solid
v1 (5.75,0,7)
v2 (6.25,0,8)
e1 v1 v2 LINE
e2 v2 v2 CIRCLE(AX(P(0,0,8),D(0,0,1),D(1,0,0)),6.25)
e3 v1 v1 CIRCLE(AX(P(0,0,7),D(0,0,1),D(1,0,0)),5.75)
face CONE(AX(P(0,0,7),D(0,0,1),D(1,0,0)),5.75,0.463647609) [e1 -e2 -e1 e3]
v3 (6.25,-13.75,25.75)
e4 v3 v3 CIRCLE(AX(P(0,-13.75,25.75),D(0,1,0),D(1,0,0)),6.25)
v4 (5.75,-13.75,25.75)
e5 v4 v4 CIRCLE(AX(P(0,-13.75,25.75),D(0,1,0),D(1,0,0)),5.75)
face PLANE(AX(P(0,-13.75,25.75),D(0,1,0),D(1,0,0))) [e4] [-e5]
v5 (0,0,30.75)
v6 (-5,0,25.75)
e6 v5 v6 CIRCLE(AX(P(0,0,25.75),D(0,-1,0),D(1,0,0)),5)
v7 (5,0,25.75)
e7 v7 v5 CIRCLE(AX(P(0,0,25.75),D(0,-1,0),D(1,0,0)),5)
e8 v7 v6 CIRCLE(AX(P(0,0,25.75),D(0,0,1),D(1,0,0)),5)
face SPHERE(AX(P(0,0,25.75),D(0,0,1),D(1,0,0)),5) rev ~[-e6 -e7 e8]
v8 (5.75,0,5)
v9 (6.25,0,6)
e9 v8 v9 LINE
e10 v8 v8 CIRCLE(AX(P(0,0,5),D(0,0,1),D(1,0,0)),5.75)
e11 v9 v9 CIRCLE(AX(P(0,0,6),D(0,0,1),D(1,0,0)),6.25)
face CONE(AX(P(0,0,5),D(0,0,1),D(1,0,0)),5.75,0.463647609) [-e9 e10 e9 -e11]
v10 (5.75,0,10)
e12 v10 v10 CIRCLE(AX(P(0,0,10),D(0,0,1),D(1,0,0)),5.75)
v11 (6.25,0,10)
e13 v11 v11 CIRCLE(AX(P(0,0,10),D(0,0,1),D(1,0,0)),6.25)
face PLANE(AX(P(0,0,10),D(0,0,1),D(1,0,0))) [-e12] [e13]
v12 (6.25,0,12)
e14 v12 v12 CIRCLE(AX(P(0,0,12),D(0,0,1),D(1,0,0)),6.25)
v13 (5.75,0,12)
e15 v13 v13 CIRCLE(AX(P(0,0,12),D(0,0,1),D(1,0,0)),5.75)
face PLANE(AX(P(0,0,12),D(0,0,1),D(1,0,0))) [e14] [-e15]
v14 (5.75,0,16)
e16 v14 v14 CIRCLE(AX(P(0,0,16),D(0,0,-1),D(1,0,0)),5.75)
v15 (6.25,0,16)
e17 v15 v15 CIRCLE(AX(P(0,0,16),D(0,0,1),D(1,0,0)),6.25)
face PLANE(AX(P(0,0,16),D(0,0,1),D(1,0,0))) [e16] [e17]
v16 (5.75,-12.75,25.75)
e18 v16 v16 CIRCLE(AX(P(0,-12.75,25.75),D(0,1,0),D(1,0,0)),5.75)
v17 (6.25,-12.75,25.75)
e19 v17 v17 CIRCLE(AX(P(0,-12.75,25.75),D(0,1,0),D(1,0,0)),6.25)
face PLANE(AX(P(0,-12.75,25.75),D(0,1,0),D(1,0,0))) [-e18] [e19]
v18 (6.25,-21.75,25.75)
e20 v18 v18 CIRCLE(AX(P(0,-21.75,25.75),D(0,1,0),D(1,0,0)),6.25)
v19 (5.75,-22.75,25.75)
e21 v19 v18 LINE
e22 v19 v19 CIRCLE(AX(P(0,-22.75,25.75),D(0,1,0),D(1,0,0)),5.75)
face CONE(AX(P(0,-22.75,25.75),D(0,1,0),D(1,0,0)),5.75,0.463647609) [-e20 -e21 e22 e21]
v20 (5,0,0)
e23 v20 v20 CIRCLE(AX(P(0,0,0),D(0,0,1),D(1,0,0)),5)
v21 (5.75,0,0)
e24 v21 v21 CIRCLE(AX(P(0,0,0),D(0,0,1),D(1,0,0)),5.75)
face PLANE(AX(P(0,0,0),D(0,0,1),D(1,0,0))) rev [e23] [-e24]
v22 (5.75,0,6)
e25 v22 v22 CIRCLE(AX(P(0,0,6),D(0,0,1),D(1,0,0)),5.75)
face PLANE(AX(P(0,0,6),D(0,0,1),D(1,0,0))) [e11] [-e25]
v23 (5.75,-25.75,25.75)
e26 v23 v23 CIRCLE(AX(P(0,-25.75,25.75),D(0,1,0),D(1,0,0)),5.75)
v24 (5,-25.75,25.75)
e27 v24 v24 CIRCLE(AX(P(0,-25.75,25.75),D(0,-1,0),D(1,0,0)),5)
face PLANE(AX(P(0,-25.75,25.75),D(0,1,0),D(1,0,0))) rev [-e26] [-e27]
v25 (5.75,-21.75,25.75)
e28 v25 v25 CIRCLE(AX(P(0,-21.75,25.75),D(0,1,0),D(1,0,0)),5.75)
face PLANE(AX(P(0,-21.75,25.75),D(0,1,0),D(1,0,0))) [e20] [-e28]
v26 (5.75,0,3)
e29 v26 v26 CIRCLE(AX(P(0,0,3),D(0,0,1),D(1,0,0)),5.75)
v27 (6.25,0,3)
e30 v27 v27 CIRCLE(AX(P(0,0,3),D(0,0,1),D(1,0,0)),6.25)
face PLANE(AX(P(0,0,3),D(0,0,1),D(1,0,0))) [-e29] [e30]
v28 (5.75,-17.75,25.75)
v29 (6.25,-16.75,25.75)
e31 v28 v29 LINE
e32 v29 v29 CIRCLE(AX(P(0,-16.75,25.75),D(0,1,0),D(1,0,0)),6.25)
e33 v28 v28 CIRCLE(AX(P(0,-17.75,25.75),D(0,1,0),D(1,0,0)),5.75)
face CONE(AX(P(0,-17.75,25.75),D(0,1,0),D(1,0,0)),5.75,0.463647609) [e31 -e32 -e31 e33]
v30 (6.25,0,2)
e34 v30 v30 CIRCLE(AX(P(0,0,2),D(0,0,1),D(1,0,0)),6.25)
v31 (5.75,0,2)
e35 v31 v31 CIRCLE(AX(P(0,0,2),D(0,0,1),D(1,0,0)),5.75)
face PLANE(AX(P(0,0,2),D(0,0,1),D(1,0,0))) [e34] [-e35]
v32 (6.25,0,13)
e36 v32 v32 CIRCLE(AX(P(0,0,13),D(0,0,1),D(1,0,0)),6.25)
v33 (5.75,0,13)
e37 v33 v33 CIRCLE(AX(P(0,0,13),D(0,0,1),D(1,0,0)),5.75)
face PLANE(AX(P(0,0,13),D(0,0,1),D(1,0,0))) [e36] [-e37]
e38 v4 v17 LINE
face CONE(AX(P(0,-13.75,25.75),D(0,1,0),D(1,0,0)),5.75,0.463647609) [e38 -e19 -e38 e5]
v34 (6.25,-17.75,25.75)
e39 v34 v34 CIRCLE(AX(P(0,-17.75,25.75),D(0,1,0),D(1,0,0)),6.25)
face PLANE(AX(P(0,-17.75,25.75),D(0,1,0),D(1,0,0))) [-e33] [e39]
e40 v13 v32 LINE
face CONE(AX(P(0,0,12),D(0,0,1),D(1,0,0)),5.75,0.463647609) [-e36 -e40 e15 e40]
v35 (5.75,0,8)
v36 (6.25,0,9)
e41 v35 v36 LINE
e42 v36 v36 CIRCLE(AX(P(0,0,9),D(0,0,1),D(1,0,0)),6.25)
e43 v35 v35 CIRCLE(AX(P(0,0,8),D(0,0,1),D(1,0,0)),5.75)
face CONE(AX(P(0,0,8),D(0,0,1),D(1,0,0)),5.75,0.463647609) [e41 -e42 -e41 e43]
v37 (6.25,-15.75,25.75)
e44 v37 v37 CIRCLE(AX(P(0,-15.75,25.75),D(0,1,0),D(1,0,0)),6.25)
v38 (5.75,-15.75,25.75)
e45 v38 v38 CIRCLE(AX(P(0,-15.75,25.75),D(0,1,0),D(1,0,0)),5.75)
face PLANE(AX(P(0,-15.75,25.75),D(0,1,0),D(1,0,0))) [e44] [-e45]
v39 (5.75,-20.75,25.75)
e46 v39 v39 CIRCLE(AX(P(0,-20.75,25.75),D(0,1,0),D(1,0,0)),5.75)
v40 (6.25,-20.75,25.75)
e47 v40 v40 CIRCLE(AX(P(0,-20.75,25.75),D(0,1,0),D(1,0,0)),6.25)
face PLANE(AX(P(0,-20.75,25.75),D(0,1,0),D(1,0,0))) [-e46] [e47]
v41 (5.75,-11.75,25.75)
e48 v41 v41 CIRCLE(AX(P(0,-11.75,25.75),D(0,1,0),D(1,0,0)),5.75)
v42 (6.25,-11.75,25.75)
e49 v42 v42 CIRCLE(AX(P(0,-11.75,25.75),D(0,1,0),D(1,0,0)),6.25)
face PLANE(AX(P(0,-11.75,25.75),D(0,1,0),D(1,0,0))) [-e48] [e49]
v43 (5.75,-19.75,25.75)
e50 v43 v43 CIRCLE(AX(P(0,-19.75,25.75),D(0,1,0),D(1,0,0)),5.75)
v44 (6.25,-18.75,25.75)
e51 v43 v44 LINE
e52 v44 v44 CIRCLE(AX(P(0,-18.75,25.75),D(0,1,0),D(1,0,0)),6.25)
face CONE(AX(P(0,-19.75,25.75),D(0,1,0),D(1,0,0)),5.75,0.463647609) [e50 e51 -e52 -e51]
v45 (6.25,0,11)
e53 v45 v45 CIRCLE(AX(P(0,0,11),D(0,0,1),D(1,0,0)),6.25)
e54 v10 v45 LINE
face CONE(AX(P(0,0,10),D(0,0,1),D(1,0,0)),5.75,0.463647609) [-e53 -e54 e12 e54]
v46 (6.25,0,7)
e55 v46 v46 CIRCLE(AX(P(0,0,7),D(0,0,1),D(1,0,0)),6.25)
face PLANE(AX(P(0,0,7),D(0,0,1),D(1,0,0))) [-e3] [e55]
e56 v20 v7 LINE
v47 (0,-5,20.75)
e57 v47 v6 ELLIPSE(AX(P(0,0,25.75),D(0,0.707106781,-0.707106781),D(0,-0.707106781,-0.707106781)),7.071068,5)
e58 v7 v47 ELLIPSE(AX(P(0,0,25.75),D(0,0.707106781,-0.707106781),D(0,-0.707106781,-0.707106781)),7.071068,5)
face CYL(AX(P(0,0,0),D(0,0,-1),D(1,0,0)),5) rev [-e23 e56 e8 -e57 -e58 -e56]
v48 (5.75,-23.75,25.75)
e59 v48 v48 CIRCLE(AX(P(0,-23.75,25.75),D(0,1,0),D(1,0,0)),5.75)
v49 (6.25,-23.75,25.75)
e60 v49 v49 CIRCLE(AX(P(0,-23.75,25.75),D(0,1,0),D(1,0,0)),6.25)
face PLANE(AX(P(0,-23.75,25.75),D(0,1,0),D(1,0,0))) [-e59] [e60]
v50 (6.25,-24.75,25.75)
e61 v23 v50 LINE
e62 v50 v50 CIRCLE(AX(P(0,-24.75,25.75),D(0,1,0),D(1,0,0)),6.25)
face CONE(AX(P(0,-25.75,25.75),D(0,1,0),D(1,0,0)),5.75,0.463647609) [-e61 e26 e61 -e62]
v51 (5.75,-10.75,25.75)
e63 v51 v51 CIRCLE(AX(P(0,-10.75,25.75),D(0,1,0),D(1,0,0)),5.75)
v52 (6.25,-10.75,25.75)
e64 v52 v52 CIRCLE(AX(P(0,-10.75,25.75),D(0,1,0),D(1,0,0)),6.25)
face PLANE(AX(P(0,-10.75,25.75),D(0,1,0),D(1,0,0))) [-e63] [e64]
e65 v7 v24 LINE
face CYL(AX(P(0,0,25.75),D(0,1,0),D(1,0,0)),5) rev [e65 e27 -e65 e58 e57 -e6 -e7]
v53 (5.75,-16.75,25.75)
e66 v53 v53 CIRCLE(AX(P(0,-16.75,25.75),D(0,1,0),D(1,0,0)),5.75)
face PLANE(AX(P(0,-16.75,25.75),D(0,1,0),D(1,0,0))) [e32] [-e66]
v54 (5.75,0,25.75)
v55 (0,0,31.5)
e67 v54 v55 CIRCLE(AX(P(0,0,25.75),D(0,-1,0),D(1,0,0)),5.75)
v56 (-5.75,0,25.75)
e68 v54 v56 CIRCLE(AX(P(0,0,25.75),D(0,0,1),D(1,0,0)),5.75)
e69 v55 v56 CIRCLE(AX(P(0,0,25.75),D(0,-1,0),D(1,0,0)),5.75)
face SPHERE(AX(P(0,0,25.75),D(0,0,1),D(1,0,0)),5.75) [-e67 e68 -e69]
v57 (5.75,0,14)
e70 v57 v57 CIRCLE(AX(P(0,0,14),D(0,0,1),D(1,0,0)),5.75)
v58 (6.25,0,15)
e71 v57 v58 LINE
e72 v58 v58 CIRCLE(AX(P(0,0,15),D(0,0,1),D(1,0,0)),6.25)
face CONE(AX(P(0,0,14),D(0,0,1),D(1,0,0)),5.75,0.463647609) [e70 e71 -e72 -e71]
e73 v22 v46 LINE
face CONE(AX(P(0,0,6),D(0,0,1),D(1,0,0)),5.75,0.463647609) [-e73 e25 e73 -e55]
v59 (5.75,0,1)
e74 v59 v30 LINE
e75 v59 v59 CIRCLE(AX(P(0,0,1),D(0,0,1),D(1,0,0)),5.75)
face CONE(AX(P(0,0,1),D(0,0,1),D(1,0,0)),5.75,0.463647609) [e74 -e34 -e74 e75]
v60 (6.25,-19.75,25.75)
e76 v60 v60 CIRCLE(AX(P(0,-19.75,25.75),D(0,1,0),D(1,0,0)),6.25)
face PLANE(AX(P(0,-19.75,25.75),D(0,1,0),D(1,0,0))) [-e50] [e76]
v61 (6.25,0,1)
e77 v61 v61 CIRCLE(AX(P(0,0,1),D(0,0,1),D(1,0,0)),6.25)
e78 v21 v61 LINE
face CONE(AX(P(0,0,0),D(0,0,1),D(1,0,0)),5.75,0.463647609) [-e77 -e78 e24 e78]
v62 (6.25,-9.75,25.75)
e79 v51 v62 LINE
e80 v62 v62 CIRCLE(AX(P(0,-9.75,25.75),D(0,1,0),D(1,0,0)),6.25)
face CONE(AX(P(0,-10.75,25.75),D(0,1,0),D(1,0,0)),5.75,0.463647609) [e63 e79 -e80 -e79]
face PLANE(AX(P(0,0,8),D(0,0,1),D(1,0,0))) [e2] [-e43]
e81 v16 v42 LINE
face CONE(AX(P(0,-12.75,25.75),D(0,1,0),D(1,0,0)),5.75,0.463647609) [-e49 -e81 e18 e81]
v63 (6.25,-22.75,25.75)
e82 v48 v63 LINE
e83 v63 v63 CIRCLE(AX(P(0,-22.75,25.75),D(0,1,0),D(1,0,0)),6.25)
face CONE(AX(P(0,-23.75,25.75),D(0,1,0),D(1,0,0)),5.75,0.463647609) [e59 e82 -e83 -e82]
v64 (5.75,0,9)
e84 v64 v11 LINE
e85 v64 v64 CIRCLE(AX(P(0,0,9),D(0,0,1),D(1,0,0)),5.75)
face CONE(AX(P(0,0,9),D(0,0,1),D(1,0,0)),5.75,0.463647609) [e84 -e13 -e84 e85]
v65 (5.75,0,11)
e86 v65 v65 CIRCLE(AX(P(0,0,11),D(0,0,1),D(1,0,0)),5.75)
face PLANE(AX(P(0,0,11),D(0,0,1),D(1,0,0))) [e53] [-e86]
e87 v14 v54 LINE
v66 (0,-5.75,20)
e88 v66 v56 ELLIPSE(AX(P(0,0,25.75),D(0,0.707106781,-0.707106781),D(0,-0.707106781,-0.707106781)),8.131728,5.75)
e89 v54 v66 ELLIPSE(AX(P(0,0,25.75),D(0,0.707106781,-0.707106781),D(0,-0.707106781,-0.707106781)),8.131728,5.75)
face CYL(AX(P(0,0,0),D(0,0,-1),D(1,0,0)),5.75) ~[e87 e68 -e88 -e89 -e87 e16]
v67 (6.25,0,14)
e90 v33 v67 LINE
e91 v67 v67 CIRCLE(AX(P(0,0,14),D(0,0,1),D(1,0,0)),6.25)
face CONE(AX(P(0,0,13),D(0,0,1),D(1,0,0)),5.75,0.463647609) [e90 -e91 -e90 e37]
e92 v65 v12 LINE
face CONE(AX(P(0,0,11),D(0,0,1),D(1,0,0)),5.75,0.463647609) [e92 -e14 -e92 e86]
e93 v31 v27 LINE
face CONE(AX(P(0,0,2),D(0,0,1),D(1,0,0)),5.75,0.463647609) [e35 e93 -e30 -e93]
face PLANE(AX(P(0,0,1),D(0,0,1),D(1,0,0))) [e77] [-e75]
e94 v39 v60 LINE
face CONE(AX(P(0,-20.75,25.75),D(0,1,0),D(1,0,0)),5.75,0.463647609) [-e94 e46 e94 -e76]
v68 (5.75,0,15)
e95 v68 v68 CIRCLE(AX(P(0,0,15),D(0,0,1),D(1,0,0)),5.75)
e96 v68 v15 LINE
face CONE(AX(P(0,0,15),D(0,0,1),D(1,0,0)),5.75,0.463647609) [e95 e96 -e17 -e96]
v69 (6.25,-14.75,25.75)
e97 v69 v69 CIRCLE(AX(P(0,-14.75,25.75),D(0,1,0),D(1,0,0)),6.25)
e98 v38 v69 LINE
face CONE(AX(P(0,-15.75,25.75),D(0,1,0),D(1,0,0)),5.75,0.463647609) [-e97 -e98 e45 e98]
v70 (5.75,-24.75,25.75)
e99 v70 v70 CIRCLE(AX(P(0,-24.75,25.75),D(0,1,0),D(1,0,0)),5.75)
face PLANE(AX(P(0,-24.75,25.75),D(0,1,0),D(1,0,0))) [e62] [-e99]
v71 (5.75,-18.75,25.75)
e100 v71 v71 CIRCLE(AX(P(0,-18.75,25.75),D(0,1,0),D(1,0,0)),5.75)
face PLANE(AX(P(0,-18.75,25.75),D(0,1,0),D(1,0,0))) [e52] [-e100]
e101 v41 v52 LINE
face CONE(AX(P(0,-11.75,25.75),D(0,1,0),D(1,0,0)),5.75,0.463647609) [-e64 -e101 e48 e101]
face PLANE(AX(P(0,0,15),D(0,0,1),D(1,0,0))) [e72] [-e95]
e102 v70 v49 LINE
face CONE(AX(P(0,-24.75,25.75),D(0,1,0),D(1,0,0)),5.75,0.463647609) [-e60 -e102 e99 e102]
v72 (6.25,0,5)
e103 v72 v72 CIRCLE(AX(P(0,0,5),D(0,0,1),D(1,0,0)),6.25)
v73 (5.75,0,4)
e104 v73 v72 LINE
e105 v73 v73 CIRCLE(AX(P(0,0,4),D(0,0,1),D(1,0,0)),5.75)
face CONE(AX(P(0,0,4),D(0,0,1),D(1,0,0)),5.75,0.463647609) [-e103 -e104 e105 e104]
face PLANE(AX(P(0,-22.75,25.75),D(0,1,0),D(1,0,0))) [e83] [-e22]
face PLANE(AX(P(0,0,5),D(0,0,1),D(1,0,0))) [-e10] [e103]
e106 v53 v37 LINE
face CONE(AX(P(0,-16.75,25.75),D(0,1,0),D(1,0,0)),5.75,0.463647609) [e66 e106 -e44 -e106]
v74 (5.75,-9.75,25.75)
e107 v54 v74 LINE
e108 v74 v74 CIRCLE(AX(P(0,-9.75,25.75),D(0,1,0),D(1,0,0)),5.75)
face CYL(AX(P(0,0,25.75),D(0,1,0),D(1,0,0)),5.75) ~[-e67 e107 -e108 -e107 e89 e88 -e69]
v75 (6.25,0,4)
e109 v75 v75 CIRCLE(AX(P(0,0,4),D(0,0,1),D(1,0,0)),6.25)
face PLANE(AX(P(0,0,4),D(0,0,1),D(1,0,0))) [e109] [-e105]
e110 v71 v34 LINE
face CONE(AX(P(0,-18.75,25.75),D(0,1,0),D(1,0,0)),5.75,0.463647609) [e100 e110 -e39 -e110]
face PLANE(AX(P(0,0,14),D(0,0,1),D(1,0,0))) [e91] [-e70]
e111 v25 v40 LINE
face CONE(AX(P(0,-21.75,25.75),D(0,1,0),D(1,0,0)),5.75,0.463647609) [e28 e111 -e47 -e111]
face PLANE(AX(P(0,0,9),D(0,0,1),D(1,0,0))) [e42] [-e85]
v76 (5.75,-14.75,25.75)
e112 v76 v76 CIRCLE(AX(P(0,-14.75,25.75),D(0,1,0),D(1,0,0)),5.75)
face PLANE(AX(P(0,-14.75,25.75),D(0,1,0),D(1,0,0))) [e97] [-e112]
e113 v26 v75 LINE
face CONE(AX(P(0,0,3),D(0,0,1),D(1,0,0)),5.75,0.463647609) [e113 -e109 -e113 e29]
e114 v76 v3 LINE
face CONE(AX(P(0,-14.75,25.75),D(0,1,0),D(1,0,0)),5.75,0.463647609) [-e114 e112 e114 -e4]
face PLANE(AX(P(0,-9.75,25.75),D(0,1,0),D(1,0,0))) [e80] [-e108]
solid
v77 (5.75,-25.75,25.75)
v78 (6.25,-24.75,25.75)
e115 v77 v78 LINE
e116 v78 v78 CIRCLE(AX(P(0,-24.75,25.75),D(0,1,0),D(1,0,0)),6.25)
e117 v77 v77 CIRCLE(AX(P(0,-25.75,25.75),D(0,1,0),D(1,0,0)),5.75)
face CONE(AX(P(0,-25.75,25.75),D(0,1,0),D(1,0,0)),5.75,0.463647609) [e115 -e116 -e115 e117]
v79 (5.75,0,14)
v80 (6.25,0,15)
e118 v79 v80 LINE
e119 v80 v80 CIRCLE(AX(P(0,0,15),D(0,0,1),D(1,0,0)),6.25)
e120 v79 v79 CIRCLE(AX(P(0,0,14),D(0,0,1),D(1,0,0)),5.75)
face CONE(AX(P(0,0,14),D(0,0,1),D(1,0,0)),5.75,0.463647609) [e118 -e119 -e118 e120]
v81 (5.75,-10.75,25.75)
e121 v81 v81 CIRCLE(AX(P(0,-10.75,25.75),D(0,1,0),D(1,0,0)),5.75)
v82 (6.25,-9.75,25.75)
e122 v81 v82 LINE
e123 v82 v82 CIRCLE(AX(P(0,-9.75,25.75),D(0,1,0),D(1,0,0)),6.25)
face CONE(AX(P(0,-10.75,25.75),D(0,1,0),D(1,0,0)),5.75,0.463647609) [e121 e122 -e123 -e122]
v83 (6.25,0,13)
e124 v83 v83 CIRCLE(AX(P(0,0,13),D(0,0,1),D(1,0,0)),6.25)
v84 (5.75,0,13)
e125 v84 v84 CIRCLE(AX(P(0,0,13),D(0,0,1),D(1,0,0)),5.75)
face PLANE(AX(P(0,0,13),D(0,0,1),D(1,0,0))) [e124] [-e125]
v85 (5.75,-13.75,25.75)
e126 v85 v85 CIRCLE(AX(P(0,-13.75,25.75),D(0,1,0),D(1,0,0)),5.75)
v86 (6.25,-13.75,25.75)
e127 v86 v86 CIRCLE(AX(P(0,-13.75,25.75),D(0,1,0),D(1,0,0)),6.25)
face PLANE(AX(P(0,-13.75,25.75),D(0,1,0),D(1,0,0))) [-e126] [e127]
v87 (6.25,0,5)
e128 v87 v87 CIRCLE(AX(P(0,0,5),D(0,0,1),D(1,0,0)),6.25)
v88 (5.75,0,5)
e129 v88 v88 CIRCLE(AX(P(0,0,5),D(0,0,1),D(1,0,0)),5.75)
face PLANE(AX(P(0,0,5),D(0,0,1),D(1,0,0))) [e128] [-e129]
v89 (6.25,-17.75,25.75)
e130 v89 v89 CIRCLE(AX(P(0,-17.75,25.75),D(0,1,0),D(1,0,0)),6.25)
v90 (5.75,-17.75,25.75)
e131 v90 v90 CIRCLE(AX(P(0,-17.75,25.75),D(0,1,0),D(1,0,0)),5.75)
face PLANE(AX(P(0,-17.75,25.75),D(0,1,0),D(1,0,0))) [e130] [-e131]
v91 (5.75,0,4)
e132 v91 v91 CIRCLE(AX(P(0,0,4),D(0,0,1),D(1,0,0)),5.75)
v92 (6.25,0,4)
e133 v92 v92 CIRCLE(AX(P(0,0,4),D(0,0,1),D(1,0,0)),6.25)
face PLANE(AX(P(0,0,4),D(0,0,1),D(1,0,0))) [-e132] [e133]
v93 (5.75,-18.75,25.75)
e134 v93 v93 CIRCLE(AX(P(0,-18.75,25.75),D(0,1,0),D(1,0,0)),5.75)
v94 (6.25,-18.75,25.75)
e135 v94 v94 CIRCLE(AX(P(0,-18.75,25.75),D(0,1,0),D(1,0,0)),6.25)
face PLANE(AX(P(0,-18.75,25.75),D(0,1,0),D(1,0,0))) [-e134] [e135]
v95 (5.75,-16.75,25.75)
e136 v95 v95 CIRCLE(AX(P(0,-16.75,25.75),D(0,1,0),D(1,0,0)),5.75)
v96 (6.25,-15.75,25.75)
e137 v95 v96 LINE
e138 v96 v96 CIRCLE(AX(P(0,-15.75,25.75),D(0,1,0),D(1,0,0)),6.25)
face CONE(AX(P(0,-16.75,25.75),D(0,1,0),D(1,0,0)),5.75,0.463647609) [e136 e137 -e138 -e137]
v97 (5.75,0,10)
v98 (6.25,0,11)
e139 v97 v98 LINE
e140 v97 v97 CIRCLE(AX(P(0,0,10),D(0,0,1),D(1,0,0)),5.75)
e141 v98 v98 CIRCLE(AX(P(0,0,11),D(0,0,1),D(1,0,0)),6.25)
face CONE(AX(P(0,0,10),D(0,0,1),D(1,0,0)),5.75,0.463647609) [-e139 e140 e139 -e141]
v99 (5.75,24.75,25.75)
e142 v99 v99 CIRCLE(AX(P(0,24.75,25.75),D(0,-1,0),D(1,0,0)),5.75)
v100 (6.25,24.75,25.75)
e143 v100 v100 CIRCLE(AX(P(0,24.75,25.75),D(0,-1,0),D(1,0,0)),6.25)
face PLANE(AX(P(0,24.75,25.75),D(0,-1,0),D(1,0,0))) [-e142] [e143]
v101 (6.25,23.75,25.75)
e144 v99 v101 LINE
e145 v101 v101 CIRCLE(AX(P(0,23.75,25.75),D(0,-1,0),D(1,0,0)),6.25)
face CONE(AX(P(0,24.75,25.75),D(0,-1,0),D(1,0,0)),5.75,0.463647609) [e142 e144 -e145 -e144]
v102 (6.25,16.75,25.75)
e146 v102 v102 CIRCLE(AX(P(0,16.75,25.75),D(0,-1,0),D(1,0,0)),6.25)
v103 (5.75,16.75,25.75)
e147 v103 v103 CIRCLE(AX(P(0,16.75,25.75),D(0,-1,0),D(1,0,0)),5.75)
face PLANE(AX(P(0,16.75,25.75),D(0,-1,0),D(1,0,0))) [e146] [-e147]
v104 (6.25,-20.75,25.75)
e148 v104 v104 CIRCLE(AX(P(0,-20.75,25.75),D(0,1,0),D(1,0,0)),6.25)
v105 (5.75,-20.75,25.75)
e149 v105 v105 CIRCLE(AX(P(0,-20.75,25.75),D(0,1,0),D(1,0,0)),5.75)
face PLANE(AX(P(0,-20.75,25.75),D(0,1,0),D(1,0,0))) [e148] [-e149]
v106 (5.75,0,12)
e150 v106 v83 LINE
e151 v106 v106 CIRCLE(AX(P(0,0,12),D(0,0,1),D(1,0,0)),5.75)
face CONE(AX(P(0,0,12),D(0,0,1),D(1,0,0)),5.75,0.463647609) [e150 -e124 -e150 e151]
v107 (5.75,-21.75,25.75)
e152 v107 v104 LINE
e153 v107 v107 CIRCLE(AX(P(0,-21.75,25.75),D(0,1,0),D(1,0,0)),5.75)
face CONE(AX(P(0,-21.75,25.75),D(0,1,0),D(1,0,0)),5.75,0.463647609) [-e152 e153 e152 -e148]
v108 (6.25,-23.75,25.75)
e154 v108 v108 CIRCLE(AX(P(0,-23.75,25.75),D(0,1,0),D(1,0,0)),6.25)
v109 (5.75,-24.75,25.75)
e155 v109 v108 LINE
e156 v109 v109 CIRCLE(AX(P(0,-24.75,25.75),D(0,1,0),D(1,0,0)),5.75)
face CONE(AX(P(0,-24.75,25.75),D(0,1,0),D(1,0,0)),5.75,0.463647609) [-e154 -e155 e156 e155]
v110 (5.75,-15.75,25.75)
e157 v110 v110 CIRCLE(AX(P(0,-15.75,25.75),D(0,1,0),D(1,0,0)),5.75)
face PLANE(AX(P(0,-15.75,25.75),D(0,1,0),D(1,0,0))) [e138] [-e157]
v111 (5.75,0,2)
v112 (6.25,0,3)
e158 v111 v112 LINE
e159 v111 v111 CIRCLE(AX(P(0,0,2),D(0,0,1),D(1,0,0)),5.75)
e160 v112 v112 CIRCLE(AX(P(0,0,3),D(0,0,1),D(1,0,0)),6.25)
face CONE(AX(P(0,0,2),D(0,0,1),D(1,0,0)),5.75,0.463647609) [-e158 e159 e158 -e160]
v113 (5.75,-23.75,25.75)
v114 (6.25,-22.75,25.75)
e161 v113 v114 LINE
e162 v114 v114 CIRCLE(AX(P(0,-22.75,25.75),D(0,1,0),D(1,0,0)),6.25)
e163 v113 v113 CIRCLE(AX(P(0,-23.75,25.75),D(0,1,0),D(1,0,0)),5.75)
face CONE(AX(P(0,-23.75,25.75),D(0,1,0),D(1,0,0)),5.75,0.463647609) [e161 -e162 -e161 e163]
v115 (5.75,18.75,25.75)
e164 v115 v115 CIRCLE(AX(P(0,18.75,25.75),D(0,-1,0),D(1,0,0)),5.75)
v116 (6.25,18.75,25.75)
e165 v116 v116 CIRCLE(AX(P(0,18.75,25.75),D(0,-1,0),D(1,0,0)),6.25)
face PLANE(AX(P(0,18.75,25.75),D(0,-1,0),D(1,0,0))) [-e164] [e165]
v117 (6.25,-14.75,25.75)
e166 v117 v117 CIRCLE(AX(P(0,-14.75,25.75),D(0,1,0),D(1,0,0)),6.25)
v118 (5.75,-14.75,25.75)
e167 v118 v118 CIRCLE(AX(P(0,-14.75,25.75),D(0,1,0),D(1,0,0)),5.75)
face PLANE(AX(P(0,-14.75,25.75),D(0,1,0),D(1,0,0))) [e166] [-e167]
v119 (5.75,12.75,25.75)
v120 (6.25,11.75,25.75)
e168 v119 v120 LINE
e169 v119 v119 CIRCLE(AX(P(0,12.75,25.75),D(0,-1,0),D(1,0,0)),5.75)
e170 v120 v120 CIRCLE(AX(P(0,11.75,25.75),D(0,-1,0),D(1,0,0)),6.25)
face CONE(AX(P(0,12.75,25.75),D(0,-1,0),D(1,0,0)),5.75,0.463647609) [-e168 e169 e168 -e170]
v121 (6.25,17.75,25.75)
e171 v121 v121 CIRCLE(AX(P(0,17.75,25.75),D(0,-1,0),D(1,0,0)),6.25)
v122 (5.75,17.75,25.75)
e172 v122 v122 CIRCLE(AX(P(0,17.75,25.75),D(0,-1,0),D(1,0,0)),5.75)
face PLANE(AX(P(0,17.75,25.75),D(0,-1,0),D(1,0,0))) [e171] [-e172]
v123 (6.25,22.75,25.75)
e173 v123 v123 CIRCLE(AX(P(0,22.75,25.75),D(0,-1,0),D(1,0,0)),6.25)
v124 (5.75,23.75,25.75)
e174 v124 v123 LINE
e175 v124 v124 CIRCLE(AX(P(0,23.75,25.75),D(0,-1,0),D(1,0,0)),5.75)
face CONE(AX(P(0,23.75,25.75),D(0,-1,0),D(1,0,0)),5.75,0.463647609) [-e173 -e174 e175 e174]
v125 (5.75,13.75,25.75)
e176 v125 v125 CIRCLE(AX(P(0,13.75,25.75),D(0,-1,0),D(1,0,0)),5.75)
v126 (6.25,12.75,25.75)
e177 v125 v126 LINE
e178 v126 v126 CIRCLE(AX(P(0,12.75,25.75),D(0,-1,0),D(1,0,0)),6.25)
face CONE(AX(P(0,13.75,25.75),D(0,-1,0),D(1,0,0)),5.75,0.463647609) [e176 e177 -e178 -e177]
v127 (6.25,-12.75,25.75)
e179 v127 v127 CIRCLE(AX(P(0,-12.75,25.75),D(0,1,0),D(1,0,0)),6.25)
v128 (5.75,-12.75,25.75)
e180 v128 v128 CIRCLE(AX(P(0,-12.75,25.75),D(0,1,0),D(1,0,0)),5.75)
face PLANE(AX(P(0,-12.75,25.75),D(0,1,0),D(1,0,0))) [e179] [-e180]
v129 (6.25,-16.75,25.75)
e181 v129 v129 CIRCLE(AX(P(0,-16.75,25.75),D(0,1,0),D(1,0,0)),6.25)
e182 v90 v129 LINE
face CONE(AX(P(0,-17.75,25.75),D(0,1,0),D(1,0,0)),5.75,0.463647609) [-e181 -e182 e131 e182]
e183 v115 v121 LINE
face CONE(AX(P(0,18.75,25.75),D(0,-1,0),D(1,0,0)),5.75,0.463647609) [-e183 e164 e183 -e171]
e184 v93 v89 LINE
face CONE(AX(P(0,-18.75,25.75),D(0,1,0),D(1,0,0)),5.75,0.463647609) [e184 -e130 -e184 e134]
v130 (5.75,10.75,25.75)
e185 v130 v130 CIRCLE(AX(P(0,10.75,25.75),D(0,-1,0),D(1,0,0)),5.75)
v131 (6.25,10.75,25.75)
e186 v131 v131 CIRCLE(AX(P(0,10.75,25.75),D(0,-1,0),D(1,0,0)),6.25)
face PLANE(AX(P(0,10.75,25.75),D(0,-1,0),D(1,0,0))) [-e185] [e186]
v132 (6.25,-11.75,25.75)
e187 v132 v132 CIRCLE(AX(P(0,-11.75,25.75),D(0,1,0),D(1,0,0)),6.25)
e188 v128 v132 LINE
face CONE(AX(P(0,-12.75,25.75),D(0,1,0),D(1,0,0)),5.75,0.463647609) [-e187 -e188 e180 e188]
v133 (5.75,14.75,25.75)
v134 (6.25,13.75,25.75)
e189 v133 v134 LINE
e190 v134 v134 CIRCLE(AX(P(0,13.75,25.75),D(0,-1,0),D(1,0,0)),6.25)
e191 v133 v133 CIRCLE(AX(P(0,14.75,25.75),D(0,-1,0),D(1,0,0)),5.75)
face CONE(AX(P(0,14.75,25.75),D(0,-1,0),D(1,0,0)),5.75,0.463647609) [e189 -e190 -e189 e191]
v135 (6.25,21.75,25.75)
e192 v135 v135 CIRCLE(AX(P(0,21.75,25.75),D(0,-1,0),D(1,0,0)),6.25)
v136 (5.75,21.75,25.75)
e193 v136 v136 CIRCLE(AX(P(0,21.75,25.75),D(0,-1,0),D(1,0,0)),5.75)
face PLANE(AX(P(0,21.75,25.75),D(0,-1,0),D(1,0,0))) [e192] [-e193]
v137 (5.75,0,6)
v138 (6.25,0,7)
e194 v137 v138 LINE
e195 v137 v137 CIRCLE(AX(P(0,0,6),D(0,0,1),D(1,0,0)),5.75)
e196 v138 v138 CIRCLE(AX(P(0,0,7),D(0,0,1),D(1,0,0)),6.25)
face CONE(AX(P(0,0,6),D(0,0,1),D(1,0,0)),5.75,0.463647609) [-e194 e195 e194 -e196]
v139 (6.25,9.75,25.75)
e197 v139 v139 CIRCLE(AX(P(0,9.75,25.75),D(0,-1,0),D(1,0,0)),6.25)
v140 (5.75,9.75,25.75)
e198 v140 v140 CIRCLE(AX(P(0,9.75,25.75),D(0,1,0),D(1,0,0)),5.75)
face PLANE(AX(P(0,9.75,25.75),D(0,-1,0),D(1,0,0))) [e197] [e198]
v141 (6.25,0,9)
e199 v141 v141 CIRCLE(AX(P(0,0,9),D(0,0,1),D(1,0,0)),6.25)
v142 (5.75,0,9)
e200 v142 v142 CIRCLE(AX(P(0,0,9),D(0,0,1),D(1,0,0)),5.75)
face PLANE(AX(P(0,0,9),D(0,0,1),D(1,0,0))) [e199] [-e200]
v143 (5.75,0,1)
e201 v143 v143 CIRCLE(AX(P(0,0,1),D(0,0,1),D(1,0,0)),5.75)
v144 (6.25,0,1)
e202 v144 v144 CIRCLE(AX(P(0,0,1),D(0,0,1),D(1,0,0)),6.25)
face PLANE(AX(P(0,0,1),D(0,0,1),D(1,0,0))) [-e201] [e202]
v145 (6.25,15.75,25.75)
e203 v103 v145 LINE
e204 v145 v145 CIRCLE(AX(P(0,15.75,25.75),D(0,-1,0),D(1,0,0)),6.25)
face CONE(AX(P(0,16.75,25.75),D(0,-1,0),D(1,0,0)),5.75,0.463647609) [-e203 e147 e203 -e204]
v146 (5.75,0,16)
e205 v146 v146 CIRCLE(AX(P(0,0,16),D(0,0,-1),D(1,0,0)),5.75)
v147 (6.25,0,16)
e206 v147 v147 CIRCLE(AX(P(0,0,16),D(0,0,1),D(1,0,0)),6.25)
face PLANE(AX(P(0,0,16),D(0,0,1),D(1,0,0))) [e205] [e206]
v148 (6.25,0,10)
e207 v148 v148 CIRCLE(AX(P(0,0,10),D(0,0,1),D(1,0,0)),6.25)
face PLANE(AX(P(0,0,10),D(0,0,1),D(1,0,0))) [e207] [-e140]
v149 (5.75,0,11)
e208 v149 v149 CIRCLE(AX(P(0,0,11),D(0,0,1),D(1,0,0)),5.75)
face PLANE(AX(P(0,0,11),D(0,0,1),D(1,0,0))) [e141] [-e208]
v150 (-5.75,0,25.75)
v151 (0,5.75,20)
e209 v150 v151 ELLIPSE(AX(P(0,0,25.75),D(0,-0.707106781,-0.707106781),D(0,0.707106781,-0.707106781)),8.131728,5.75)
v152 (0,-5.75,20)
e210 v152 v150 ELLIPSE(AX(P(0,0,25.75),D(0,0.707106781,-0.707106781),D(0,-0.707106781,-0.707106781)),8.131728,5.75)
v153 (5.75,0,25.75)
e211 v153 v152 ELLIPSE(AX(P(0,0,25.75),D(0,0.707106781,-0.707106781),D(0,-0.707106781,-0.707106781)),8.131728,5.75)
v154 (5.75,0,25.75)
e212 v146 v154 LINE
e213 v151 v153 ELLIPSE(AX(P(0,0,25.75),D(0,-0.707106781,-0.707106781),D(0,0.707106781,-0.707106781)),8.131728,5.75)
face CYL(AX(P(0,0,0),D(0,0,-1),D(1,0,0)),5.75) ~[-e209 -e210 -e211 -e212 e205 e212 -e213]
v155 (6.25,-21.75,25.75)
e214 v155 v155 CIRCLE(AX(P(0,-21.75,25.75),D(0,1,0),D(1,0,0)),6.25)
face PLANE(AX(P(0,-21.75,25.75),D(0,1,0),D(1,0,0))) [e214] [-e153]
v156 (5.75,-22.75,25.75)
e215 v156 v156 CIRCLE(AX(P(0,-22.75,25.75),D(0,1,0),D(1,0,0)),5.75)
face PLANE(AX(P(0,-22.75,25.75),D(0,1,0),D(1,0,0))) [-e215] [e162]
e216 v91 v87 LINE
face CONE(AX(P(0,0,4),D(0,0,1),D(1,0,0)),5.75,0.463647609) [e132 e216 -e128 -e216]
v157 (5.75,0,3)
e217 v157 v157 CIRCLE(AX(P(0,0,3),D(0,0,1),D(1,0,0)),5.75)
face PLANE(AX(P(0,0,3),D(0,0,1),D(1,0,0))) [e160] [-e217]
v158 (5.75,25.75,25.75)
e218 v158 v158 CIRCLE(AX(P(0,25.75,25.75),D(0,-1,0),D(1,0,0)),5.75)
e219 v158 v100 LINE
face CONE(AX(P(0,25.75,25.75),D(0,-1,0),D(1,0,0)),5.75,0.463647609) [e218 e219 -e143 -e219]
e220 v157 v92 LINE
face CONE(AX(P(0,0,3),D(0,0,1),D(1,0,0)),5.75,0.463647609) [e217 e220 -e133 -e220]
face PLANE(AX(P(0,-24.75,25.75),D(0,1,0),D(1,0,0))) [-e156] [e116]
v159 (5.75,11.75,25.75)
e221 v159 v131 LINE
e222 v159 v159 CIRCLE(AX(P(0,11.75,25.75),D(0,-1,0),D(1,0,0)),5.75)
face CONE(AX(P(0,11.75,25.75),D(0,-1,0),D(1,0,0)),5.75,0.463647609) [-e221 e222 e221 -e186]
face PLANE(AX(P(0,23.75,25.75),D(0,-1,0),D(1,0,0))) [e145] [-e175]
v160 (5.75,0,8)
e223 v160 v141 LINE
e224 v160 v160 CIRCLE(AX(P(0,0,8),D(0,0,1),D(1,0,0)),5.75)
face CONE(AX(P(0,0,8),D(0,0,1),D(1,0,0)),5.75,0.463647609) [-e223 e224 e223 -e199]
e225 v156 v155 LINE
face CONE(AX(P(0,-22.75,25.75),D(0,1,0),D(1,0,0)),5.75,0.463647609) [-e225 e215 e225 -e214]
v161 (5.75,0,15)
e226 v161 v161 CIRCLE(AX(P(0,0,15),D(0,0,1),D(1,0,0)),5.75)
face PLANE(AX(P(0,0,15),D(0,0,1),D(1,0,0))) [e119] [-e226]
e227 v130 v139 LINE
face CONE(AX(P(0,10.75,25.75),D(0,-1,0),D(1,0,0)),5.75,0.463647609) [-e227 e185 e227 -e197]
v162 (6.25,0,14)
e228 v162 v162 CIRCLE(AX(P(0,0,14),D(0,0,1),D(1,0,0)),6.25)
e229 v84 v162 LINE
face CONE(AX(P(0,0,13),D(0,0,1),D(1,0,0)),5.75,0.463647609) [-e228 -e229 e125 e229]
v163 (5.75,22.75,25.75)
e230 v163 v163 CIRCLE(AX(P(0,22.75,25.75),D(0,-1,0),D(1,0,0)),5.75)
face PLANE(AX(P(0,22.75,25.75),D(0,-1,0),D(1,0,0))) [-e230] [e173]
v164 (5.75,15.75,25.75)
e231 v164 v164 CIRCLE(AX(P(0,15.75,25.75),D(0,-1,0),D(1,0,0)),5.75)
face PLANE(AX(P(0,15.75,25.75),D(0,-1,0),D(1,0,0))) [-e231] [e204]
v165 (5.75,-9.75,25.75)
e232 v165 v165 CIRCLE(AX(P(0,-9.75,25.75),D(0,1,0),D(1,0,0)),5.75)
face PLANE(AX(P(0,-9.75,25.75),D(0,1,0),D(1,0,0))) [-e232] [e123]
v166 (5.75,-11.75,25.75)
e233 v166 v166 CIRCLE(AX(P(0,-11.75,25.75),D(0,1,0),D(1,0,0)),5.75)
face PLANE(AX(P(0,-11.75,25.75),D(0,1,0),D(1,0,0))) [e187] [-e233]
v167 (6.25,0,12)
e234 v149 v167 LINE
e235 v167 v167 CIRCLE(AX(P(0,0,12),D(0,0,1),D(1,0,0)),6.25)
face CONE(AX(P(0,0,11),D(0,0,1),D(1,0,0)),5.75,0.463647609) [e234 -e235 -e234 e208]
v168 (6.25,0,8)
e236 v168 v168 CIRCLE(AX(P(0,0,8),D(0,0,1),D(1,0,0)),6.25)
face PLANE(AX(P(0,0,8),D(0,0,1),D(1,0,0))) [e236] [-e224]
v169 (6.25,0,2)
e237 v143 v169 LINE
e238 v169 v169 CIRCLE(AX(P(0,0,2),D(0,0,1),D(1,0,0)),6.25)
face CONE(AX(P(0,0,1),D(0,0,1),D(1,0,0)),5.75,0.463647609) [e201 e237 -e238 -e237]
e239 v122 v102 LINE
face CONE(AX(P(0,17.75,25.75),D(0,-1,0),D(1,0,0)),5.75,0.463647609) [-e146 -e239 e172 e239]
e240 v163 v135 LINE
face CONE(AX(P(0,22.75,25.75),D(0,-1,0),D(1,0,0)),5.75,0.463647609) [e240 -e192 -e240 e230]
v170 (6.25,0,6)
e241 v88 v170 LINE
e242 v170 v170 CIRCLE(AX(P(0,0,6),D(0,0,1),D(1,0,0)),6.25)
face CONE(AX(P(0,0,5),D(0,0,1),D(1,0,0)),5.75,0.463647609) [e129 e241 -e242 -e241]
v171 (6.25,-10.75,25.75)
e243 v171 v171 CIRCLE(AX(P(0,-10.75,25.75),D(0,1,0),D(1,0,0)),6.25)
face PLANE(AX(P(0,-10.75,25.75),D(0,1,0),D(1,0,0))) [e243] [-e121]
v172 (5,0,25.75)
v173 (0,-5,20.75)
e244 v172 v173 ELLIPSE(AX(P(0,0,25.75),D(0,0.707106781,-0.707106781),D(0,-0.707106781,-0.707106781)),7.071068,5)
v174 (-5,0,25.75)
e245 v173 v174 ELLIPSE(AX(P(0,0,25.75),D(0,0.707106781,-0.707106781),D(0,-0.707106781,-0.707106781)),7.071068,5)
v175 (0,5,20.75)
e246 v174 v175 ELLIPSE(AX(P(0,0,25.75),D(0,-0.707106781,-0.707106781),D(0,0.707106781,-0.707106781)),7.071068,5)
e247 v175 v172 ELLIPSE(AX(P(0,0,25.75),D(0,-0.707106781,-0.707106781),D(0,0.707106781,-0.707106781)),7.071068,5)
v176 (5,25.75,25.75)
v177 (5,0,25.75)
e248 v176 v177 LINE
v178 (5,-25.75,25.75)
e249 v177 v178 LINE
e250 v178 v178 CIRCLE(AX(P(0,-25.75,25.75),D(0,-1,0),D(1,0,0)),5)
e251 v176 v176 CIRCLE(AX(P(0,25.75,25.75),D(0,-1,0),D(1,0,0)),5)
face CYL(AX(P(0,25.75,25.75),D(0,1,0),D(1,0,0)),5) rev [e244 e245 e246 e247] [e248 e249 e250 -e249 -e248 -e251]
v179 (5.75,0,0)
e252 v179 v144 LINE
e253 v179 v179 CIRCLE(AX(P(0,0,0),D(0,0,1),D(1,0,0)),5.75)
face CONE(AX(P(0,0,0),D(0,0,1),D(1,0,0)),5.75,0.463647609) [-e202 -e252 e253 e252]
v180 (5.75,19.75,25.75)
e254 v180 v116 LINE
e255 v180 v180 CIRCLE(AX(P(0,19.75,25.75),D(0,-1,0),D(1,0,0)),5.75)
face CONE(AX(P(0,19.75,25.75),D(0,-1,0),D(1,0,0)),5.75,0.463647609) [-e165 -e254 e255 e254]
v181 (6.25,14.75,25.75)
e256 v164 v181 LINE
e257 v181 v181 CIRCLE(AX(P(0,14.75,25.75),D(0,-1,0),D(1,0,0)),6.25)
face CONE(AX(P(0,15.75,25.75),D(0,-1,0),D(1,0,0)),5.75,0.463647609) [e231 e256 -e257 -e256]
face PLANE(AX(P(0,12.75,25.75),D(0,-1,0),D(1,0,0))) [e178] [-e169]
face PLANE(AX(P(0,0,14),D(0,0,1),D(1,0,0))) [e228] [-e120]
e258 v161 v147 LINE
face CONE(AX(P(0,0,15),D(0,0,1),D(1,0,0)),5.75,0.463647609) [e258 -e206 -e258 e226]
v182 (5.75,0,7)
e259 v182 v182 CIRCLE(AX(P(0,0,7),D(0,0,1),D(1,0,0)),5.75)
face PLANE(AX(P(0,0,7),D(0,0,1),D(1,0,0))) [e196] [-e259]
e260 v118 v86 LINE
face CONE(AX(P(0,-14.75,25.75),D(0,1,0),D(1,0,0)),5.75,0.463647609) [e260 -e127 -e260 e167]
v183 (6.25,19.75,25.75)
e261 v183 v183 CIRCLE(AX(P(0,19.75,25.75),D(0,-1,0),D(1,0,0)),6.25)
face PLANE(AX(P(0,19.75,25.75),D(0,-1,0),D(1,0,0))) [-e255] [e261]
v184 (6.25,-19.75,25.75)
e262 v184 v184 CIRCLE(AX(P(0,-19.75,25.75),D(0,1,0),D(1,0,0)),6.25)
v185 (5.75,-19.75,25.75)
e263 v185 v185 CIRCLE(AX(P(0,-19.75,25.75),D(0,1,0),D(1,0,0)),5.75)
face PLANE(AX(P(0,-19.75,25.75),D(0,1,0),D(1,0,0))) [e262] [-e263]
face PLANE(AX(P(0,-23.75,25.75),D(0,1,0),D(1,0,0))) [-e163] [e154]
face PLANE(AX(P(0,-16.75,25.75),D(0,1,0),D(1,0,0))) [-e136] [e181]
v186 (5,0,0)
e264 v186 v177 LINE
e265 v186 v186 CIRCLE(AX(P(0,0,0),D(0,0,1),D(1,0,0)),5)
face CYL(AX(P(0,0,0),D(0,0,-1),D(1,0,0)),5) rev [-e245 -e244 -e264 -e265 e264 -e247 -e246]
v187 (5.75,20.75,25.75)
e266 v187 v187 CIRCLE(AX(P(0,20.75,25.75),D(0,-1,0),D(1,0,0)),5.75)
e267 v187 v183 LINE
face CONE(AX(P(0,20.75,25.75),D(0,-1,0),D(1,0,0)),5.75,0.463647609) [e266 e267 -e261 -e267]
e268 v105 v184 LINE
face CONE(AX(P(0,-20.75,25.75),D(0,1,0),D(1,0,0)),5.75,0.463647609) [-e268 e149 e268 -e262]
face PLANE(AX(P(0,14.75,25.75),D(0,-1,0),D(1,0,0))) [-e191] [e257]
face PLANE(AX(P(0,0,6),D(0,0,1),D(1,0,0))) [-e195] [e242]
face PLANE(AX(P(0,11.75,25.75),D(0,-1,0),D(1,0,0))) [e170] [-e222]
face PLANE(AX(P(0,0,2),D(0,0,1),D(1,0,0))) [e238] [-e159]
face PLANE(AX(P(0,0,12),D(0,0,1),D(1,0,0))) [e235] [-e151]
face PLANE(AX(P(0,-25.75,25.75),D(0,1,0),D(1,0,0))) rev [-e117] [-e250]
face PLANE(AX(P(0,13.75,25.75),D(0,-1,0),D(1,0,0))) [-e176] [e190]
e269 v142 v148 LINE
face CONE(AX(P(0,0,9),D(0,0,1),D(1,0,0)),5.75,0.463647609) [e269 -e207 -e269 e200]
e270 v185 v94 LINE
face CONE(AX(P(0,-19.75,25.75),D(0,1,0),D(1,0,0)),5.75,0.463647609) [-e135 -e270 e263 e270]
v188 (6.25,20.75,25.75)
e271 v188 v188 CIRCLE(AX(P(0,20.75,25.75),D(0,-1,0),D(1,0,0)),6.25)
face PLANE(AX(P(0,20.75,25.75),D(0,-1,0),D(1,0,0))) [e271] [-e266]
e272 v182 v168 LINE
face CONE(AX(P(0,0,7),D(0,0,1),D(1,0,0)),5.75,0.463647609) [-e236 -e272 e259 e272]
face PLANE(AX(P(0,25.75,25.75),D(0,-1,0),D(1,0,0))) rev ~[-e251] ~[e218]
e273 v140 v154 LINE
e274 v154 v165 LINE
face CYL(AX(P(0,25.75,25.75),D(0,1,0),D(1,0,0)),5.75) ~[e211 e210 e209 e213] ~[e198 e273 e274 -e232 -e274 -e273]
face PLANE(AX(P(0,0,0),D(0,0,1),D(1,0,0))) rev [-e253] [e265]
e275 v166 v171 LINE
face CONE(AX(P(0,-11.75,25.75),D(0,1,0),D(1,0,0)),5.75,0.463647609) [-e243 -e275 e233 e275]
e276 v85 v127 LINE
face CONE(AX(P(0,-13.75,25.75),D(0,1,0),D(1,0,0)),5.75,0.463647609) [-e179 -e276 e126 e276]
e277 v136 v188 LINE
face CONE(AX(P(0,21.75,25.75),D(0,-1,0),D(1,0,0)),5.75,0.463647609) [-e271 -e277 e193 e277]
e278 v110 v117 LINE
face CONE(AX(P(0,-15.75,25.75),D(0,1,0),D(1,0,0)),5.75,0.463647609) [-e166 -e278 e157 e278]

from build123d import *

# Parameters (mm, degrees)
CYLINDER001_R            = 5
CYLINDER001_DEPTH        = 25.75
CYLINDER_R               = 5
CYLINDER_DEPTH           = 25.75
ARRAY001_Z_COUNT         = 16
ARRAY001_Z_PITCH         = 1
ARRAY001_PLACEMENT_ANGLE = 270
CYLINDER003_R            = 5.75
CYLINDER003_DEPTH        = 25.75
CYLINDER002_R            = 5.75
CYLINDER002_DEPTH        = 25.75
ARRAY_Z_COUNT            = 16
ARRAY_Z_PITCH            = 1
CYLINDER005_R            = 5
CYLINDER005_DEPTH        = 51.5
CYLINDER004_R            = 5
CYLINDER004_DEPTH        = 25.75
ARRAY003_Z_COUNT         = 16
ARRAY003_Z_PITCH         = 1
ARRAY003_PLACEMENT_ANGLE = 270
CYLINDER007_R            = 5.75
CYLINDER007_DEPTH        = 51.5
CYLINDER006_R            = 5.75
CYLINDER006_DEPTH        = 25.75
ARRAY004_Z_COUNT         = 16
ARRAY004_Z_PITCH         = 1
ARRAY004_PLACEMENT_ANGLE = 90
ARRAY002_Z_COUNT         = 16
ARRAY002_Z_PITCH         = 1


with BuildPart() as cylinder001:
    # Cylinder001 → Cylinder001 (new body)
    with BuildSketch(Plane(origin=(0, 0, 25.75), x_dir=(1, 0, 0), z_dir=(0, -1, 0))):
        Circle(CYLINDER001_R)
    extrude(amount=CYLINDER001_DEPTH)


with BuildPart() as sphere:
    # Sphere → Sphere (revolve)
    with BuildSketch(Plane(origin=(0, 0, 25.75), x_dir=(1, 0, 0), z_dir=(0, -1, 0))):
        with BuildLine():
            ThreePointArc((0, -5), (5, 0), (0, 5))
            Line((0, 5), (0, -5))
        make_face()
    revolve(axis=Axis((0, 0, 25.75), (0, 0, 1)))


with BuildPart() as innerchannel:
    # Cylinder → Cylinder (new body)
    with BuildSketch(Plane.XY):
        Circle(CYLINDER_R)
    extrude(amount=CYLINDER_DEPTH)

    # Fusion: union Cylinder001, Sphere
    add(cylinder001.part)
    add(sphere.part)


with BuildPart() as array001:
    # Cone002 → Cone002 (revolve)
    with BuildSketch(Plane.XZ):
        Polygon((0, 0), (5.75, 0), (6.25, 1), (0, 1), align=None)
    revolve(axis=Axis((0, 0, 0), (0, 0, 1)))

    # Array001 Z: Array001 ×16


with BuildPart() as array001_1:
    add(array001.part)
    with Locations(*[(0, 0, i * ARRAY001_Z_PITCH) for i in range(1, ARRAY001_Z_COUNT)]):
        add(array001.part)


with BuildPart() as array001_2:
    # Array001 placement: moved
    add(array001_1.part.moved(Location((0, -25.75, 25.75))).rotate(Axis((0, -25.75, 25.75), (1, 0, 0)), ARRAY001_PLACEMENT_ANGLE))


with BuildPart() as cylinder003:
    # Cylinder003 → Cylinder003 (new body)
    with BuildSketch(Plane(origin=(0, 0, 25.75), x_dir=(1, 0, 0), z_dir=(0, -1, 0))):
        Circle(CYLINDER003_R)
    extrude(amount=CYLINDER003_DEPTH)


with BuildPart() as sphere001:
    # Sphere001 → Sphere001 (revolve)
    with BuildSketch(Plane(origin=(0, 0, 25.75), x_dir=(1, 0, 0), z_dir=(0, -1, 0))):
        with BuildLine():
            ThreePointArc((0, -5.75), (5.75, 0), (0, 5.75))
            Line((0, 5.75), (0, -5.75))
        make_face()
    revolve(axis=Axis((0, 0, 25.75), (0, 0, 1)))


with BuildPart() as outermain:
    # Cylinder002 → Cylinder002 (new body)
    with BuildSketch(Plane.XY):
        Circle(CYLINDER002_R)
    extrude(amount=CYLINDER002_DEPTH)

    # Fusion001: union Cylinder003, Sphere001
    add(cylinder003.part)
    add(sphere001.part)


with BuildPart() as hosel:
    # Cone → Cone (revolve)
    with BuildSketch(Plane.XZ):
        Polygon((0, 0), (5.75, 0), (6.25, 1), (0, 1), align=None)
    revolve(axis=Axis((0, 0, 0), (0, 0, 1)))

    # Array Z: HoseL ×16


with BuildPart() as hosel_1:
    add(hosel.part)
    with Locations(*[(0, 0, i * ARRAY_Z_PITCH) for i in range(1, ARRAY_Z_COUNT)]):
        add(hosel.part)

    # Fusion002: union Array001, OuterMain
    add(array001_2.part)
    add(outermain.part)

    # Cut: cut InnerChannel
    add(innerchannel.part, mode=Mode.SUBTRACT)


with BuildPart() as cylinder005:
    # Cylinder005 → Cylinder005 (new body)
    with BuildSketch(Plane(origin=(0, 25.75, 25.75), x_dir=(1, 0, 0), z_dir=(0, -1, 0))):
        Circle(CYLINDER005_R)
    extrude(amount=CYLINDER005_DEPTH)


with BuildPart() as sphere002:
    # Sphere002 → Sphere002 (revolve)
    with BuildSketch(Plane(origin=(0, 0, 25.75), x_dir=(1, 0, 0), z_dir=(0, -1, 0))):
        with BuildLine():
            ThreePointArc((0, -5), (5, 0), (0, 5))
            Line((0, 5), (0, -5))
        make_face()
    revolve(axis=Axis((0, 0, 25.75), (0, 0, 1)))


with BuildPart() as innerchannel001:
    # Cylinder004 → Cylinder004 (new body)
    with BuildSketch(Plane.XY):
        Circle(CYLINDER004_R)
    extrude(amount=CYLINDER004_DEPTH)

    # Fusion003: union Cylinder005, Sphere002
    add(cylinder005.part)
    add(sphere002.part)


with BuildPart() as array003:
    # Cone004 → Cone004 (revolve)
    with BuildSketch(Plane.XZ):
        Polygon((0, 0), (5.75, 0), (6.25, 1), (0, 1), align=None)
    revolve(axis=Axis((0, 0, 0), (0, 0, 1)))

    # Array003 Z: Array003 ×16


with BuildPart() as array003_1:
    add(array003.part)
    with Locations(*[(0, 0, i * ARRAY003_Z_PITCH) for i in range(1, ARRAY003_Z_COUNT)]):
        add(array003.part)


with BuildPart() as array003_2:
    # Array003 placement: moved
    add(array003_1.part.moved(Location((0, -25.75, 25.75))).rotate(Axis((0, -25.75, 25.75), (1, 0, 0)), ARRAY003_PLACEMENT_ANGLE))


with BuildPart() as cylinder007:
    # Cylinder007 → Cylinder007 (new body)
    with BuildSketch(Plane(origin=(0, 25.75, 25.75), x_dir=(1, 0, 0), z_dir=(0, -1, 0))):
        Circle(CYLINDER007_R)
    extrude(amount=CYLINDER007_DEPTH)


with BuildPart() as sphere003:
    # Sphere003 → Sphere003 (revolve)
    with BuildSketch(Plane(origin=(0, 0, 25.75), x_dir=(1, 0, 0), z_dir=(0, -1, 0))):
        with BuildLine():
            ThreePointArc((0, -5.75), (5.75, 0), (0, 5.75))
            Line((0, 5.75), (0, -5.75))
        make_face()
    revolve(axis=Axis((0, 0, 25.75), (0, 0, 1)))


with BuildPart() as outermain001:
    # Cylinder006 → Cylinder006 (new body)
    with BuildSketch(Plane.XY):
        Circle(CYLINDER006_R)
    extrude(amount=CYLINDER006_DEPTH)

    # Fusion004: union Cylinder007, Sphere003
    add(cylinder007.part)
    add(sphere003.part)


with BuildPart() as array004:
    # Cone005 → Cone005 (revolve)
    with BuildSketch(Plane.XZ):
        Polygon((0, 0), (5.75, 0), (6.25, 1), (0, 1), align=None)
    revolve(axis=Axis((0, 0, 0), (0, 0, 1)))

    # Array004 Z: Array004 ×16


with BuildPart() as array004_1:
    add(array004.part)
    with Locations(*[(0, 0, i * ARRAY004_Z_PITCH) for i in range(1, ARRAY004_Z_COUNT)]):
        add(array004.part)


with BuildPart() as array004_2:
    # Array004 placement: moved
    add(array004_1.part.moved(Location((0, 25.75, 25.75))).rotate(Axis((0, 25.75, 25.75), (1, 0, 0)), ARRAY004_PLACEMENT_ANGLE))


with BuildPart() as hoset:
    # Cone003 → Cone003 (revolve)
    with BuildSketch(Plane.XZ):
        Polygon((0, 0), (5.75, 0), (6.25, 1), (0, 1), align=None)
    revolve(axis=Axis((0, 0, 0), (0, 0, 1)))

    # Array002 Z: HoseT ×16


with BuildPart() as hoset_1:
    add(hoset.part)
    with Locations(*[(0, 0, i * ARRAY002_Z_PITCH) for i in range(1, ARRAY002_Z_COUNT)]):
        add(hoset.part)

    # Fusion005: union Array003, OuterMain001, Array004
    add(array003_2.part)
    add(outermain001.part)
    add(array004_2.part)

    # Cut001: cut InnerChannel001
    add(innerchannel001.part, mode=Mode.SUBTRACT)


solid = Compound([hosel_1.part, hoset_1.part])
